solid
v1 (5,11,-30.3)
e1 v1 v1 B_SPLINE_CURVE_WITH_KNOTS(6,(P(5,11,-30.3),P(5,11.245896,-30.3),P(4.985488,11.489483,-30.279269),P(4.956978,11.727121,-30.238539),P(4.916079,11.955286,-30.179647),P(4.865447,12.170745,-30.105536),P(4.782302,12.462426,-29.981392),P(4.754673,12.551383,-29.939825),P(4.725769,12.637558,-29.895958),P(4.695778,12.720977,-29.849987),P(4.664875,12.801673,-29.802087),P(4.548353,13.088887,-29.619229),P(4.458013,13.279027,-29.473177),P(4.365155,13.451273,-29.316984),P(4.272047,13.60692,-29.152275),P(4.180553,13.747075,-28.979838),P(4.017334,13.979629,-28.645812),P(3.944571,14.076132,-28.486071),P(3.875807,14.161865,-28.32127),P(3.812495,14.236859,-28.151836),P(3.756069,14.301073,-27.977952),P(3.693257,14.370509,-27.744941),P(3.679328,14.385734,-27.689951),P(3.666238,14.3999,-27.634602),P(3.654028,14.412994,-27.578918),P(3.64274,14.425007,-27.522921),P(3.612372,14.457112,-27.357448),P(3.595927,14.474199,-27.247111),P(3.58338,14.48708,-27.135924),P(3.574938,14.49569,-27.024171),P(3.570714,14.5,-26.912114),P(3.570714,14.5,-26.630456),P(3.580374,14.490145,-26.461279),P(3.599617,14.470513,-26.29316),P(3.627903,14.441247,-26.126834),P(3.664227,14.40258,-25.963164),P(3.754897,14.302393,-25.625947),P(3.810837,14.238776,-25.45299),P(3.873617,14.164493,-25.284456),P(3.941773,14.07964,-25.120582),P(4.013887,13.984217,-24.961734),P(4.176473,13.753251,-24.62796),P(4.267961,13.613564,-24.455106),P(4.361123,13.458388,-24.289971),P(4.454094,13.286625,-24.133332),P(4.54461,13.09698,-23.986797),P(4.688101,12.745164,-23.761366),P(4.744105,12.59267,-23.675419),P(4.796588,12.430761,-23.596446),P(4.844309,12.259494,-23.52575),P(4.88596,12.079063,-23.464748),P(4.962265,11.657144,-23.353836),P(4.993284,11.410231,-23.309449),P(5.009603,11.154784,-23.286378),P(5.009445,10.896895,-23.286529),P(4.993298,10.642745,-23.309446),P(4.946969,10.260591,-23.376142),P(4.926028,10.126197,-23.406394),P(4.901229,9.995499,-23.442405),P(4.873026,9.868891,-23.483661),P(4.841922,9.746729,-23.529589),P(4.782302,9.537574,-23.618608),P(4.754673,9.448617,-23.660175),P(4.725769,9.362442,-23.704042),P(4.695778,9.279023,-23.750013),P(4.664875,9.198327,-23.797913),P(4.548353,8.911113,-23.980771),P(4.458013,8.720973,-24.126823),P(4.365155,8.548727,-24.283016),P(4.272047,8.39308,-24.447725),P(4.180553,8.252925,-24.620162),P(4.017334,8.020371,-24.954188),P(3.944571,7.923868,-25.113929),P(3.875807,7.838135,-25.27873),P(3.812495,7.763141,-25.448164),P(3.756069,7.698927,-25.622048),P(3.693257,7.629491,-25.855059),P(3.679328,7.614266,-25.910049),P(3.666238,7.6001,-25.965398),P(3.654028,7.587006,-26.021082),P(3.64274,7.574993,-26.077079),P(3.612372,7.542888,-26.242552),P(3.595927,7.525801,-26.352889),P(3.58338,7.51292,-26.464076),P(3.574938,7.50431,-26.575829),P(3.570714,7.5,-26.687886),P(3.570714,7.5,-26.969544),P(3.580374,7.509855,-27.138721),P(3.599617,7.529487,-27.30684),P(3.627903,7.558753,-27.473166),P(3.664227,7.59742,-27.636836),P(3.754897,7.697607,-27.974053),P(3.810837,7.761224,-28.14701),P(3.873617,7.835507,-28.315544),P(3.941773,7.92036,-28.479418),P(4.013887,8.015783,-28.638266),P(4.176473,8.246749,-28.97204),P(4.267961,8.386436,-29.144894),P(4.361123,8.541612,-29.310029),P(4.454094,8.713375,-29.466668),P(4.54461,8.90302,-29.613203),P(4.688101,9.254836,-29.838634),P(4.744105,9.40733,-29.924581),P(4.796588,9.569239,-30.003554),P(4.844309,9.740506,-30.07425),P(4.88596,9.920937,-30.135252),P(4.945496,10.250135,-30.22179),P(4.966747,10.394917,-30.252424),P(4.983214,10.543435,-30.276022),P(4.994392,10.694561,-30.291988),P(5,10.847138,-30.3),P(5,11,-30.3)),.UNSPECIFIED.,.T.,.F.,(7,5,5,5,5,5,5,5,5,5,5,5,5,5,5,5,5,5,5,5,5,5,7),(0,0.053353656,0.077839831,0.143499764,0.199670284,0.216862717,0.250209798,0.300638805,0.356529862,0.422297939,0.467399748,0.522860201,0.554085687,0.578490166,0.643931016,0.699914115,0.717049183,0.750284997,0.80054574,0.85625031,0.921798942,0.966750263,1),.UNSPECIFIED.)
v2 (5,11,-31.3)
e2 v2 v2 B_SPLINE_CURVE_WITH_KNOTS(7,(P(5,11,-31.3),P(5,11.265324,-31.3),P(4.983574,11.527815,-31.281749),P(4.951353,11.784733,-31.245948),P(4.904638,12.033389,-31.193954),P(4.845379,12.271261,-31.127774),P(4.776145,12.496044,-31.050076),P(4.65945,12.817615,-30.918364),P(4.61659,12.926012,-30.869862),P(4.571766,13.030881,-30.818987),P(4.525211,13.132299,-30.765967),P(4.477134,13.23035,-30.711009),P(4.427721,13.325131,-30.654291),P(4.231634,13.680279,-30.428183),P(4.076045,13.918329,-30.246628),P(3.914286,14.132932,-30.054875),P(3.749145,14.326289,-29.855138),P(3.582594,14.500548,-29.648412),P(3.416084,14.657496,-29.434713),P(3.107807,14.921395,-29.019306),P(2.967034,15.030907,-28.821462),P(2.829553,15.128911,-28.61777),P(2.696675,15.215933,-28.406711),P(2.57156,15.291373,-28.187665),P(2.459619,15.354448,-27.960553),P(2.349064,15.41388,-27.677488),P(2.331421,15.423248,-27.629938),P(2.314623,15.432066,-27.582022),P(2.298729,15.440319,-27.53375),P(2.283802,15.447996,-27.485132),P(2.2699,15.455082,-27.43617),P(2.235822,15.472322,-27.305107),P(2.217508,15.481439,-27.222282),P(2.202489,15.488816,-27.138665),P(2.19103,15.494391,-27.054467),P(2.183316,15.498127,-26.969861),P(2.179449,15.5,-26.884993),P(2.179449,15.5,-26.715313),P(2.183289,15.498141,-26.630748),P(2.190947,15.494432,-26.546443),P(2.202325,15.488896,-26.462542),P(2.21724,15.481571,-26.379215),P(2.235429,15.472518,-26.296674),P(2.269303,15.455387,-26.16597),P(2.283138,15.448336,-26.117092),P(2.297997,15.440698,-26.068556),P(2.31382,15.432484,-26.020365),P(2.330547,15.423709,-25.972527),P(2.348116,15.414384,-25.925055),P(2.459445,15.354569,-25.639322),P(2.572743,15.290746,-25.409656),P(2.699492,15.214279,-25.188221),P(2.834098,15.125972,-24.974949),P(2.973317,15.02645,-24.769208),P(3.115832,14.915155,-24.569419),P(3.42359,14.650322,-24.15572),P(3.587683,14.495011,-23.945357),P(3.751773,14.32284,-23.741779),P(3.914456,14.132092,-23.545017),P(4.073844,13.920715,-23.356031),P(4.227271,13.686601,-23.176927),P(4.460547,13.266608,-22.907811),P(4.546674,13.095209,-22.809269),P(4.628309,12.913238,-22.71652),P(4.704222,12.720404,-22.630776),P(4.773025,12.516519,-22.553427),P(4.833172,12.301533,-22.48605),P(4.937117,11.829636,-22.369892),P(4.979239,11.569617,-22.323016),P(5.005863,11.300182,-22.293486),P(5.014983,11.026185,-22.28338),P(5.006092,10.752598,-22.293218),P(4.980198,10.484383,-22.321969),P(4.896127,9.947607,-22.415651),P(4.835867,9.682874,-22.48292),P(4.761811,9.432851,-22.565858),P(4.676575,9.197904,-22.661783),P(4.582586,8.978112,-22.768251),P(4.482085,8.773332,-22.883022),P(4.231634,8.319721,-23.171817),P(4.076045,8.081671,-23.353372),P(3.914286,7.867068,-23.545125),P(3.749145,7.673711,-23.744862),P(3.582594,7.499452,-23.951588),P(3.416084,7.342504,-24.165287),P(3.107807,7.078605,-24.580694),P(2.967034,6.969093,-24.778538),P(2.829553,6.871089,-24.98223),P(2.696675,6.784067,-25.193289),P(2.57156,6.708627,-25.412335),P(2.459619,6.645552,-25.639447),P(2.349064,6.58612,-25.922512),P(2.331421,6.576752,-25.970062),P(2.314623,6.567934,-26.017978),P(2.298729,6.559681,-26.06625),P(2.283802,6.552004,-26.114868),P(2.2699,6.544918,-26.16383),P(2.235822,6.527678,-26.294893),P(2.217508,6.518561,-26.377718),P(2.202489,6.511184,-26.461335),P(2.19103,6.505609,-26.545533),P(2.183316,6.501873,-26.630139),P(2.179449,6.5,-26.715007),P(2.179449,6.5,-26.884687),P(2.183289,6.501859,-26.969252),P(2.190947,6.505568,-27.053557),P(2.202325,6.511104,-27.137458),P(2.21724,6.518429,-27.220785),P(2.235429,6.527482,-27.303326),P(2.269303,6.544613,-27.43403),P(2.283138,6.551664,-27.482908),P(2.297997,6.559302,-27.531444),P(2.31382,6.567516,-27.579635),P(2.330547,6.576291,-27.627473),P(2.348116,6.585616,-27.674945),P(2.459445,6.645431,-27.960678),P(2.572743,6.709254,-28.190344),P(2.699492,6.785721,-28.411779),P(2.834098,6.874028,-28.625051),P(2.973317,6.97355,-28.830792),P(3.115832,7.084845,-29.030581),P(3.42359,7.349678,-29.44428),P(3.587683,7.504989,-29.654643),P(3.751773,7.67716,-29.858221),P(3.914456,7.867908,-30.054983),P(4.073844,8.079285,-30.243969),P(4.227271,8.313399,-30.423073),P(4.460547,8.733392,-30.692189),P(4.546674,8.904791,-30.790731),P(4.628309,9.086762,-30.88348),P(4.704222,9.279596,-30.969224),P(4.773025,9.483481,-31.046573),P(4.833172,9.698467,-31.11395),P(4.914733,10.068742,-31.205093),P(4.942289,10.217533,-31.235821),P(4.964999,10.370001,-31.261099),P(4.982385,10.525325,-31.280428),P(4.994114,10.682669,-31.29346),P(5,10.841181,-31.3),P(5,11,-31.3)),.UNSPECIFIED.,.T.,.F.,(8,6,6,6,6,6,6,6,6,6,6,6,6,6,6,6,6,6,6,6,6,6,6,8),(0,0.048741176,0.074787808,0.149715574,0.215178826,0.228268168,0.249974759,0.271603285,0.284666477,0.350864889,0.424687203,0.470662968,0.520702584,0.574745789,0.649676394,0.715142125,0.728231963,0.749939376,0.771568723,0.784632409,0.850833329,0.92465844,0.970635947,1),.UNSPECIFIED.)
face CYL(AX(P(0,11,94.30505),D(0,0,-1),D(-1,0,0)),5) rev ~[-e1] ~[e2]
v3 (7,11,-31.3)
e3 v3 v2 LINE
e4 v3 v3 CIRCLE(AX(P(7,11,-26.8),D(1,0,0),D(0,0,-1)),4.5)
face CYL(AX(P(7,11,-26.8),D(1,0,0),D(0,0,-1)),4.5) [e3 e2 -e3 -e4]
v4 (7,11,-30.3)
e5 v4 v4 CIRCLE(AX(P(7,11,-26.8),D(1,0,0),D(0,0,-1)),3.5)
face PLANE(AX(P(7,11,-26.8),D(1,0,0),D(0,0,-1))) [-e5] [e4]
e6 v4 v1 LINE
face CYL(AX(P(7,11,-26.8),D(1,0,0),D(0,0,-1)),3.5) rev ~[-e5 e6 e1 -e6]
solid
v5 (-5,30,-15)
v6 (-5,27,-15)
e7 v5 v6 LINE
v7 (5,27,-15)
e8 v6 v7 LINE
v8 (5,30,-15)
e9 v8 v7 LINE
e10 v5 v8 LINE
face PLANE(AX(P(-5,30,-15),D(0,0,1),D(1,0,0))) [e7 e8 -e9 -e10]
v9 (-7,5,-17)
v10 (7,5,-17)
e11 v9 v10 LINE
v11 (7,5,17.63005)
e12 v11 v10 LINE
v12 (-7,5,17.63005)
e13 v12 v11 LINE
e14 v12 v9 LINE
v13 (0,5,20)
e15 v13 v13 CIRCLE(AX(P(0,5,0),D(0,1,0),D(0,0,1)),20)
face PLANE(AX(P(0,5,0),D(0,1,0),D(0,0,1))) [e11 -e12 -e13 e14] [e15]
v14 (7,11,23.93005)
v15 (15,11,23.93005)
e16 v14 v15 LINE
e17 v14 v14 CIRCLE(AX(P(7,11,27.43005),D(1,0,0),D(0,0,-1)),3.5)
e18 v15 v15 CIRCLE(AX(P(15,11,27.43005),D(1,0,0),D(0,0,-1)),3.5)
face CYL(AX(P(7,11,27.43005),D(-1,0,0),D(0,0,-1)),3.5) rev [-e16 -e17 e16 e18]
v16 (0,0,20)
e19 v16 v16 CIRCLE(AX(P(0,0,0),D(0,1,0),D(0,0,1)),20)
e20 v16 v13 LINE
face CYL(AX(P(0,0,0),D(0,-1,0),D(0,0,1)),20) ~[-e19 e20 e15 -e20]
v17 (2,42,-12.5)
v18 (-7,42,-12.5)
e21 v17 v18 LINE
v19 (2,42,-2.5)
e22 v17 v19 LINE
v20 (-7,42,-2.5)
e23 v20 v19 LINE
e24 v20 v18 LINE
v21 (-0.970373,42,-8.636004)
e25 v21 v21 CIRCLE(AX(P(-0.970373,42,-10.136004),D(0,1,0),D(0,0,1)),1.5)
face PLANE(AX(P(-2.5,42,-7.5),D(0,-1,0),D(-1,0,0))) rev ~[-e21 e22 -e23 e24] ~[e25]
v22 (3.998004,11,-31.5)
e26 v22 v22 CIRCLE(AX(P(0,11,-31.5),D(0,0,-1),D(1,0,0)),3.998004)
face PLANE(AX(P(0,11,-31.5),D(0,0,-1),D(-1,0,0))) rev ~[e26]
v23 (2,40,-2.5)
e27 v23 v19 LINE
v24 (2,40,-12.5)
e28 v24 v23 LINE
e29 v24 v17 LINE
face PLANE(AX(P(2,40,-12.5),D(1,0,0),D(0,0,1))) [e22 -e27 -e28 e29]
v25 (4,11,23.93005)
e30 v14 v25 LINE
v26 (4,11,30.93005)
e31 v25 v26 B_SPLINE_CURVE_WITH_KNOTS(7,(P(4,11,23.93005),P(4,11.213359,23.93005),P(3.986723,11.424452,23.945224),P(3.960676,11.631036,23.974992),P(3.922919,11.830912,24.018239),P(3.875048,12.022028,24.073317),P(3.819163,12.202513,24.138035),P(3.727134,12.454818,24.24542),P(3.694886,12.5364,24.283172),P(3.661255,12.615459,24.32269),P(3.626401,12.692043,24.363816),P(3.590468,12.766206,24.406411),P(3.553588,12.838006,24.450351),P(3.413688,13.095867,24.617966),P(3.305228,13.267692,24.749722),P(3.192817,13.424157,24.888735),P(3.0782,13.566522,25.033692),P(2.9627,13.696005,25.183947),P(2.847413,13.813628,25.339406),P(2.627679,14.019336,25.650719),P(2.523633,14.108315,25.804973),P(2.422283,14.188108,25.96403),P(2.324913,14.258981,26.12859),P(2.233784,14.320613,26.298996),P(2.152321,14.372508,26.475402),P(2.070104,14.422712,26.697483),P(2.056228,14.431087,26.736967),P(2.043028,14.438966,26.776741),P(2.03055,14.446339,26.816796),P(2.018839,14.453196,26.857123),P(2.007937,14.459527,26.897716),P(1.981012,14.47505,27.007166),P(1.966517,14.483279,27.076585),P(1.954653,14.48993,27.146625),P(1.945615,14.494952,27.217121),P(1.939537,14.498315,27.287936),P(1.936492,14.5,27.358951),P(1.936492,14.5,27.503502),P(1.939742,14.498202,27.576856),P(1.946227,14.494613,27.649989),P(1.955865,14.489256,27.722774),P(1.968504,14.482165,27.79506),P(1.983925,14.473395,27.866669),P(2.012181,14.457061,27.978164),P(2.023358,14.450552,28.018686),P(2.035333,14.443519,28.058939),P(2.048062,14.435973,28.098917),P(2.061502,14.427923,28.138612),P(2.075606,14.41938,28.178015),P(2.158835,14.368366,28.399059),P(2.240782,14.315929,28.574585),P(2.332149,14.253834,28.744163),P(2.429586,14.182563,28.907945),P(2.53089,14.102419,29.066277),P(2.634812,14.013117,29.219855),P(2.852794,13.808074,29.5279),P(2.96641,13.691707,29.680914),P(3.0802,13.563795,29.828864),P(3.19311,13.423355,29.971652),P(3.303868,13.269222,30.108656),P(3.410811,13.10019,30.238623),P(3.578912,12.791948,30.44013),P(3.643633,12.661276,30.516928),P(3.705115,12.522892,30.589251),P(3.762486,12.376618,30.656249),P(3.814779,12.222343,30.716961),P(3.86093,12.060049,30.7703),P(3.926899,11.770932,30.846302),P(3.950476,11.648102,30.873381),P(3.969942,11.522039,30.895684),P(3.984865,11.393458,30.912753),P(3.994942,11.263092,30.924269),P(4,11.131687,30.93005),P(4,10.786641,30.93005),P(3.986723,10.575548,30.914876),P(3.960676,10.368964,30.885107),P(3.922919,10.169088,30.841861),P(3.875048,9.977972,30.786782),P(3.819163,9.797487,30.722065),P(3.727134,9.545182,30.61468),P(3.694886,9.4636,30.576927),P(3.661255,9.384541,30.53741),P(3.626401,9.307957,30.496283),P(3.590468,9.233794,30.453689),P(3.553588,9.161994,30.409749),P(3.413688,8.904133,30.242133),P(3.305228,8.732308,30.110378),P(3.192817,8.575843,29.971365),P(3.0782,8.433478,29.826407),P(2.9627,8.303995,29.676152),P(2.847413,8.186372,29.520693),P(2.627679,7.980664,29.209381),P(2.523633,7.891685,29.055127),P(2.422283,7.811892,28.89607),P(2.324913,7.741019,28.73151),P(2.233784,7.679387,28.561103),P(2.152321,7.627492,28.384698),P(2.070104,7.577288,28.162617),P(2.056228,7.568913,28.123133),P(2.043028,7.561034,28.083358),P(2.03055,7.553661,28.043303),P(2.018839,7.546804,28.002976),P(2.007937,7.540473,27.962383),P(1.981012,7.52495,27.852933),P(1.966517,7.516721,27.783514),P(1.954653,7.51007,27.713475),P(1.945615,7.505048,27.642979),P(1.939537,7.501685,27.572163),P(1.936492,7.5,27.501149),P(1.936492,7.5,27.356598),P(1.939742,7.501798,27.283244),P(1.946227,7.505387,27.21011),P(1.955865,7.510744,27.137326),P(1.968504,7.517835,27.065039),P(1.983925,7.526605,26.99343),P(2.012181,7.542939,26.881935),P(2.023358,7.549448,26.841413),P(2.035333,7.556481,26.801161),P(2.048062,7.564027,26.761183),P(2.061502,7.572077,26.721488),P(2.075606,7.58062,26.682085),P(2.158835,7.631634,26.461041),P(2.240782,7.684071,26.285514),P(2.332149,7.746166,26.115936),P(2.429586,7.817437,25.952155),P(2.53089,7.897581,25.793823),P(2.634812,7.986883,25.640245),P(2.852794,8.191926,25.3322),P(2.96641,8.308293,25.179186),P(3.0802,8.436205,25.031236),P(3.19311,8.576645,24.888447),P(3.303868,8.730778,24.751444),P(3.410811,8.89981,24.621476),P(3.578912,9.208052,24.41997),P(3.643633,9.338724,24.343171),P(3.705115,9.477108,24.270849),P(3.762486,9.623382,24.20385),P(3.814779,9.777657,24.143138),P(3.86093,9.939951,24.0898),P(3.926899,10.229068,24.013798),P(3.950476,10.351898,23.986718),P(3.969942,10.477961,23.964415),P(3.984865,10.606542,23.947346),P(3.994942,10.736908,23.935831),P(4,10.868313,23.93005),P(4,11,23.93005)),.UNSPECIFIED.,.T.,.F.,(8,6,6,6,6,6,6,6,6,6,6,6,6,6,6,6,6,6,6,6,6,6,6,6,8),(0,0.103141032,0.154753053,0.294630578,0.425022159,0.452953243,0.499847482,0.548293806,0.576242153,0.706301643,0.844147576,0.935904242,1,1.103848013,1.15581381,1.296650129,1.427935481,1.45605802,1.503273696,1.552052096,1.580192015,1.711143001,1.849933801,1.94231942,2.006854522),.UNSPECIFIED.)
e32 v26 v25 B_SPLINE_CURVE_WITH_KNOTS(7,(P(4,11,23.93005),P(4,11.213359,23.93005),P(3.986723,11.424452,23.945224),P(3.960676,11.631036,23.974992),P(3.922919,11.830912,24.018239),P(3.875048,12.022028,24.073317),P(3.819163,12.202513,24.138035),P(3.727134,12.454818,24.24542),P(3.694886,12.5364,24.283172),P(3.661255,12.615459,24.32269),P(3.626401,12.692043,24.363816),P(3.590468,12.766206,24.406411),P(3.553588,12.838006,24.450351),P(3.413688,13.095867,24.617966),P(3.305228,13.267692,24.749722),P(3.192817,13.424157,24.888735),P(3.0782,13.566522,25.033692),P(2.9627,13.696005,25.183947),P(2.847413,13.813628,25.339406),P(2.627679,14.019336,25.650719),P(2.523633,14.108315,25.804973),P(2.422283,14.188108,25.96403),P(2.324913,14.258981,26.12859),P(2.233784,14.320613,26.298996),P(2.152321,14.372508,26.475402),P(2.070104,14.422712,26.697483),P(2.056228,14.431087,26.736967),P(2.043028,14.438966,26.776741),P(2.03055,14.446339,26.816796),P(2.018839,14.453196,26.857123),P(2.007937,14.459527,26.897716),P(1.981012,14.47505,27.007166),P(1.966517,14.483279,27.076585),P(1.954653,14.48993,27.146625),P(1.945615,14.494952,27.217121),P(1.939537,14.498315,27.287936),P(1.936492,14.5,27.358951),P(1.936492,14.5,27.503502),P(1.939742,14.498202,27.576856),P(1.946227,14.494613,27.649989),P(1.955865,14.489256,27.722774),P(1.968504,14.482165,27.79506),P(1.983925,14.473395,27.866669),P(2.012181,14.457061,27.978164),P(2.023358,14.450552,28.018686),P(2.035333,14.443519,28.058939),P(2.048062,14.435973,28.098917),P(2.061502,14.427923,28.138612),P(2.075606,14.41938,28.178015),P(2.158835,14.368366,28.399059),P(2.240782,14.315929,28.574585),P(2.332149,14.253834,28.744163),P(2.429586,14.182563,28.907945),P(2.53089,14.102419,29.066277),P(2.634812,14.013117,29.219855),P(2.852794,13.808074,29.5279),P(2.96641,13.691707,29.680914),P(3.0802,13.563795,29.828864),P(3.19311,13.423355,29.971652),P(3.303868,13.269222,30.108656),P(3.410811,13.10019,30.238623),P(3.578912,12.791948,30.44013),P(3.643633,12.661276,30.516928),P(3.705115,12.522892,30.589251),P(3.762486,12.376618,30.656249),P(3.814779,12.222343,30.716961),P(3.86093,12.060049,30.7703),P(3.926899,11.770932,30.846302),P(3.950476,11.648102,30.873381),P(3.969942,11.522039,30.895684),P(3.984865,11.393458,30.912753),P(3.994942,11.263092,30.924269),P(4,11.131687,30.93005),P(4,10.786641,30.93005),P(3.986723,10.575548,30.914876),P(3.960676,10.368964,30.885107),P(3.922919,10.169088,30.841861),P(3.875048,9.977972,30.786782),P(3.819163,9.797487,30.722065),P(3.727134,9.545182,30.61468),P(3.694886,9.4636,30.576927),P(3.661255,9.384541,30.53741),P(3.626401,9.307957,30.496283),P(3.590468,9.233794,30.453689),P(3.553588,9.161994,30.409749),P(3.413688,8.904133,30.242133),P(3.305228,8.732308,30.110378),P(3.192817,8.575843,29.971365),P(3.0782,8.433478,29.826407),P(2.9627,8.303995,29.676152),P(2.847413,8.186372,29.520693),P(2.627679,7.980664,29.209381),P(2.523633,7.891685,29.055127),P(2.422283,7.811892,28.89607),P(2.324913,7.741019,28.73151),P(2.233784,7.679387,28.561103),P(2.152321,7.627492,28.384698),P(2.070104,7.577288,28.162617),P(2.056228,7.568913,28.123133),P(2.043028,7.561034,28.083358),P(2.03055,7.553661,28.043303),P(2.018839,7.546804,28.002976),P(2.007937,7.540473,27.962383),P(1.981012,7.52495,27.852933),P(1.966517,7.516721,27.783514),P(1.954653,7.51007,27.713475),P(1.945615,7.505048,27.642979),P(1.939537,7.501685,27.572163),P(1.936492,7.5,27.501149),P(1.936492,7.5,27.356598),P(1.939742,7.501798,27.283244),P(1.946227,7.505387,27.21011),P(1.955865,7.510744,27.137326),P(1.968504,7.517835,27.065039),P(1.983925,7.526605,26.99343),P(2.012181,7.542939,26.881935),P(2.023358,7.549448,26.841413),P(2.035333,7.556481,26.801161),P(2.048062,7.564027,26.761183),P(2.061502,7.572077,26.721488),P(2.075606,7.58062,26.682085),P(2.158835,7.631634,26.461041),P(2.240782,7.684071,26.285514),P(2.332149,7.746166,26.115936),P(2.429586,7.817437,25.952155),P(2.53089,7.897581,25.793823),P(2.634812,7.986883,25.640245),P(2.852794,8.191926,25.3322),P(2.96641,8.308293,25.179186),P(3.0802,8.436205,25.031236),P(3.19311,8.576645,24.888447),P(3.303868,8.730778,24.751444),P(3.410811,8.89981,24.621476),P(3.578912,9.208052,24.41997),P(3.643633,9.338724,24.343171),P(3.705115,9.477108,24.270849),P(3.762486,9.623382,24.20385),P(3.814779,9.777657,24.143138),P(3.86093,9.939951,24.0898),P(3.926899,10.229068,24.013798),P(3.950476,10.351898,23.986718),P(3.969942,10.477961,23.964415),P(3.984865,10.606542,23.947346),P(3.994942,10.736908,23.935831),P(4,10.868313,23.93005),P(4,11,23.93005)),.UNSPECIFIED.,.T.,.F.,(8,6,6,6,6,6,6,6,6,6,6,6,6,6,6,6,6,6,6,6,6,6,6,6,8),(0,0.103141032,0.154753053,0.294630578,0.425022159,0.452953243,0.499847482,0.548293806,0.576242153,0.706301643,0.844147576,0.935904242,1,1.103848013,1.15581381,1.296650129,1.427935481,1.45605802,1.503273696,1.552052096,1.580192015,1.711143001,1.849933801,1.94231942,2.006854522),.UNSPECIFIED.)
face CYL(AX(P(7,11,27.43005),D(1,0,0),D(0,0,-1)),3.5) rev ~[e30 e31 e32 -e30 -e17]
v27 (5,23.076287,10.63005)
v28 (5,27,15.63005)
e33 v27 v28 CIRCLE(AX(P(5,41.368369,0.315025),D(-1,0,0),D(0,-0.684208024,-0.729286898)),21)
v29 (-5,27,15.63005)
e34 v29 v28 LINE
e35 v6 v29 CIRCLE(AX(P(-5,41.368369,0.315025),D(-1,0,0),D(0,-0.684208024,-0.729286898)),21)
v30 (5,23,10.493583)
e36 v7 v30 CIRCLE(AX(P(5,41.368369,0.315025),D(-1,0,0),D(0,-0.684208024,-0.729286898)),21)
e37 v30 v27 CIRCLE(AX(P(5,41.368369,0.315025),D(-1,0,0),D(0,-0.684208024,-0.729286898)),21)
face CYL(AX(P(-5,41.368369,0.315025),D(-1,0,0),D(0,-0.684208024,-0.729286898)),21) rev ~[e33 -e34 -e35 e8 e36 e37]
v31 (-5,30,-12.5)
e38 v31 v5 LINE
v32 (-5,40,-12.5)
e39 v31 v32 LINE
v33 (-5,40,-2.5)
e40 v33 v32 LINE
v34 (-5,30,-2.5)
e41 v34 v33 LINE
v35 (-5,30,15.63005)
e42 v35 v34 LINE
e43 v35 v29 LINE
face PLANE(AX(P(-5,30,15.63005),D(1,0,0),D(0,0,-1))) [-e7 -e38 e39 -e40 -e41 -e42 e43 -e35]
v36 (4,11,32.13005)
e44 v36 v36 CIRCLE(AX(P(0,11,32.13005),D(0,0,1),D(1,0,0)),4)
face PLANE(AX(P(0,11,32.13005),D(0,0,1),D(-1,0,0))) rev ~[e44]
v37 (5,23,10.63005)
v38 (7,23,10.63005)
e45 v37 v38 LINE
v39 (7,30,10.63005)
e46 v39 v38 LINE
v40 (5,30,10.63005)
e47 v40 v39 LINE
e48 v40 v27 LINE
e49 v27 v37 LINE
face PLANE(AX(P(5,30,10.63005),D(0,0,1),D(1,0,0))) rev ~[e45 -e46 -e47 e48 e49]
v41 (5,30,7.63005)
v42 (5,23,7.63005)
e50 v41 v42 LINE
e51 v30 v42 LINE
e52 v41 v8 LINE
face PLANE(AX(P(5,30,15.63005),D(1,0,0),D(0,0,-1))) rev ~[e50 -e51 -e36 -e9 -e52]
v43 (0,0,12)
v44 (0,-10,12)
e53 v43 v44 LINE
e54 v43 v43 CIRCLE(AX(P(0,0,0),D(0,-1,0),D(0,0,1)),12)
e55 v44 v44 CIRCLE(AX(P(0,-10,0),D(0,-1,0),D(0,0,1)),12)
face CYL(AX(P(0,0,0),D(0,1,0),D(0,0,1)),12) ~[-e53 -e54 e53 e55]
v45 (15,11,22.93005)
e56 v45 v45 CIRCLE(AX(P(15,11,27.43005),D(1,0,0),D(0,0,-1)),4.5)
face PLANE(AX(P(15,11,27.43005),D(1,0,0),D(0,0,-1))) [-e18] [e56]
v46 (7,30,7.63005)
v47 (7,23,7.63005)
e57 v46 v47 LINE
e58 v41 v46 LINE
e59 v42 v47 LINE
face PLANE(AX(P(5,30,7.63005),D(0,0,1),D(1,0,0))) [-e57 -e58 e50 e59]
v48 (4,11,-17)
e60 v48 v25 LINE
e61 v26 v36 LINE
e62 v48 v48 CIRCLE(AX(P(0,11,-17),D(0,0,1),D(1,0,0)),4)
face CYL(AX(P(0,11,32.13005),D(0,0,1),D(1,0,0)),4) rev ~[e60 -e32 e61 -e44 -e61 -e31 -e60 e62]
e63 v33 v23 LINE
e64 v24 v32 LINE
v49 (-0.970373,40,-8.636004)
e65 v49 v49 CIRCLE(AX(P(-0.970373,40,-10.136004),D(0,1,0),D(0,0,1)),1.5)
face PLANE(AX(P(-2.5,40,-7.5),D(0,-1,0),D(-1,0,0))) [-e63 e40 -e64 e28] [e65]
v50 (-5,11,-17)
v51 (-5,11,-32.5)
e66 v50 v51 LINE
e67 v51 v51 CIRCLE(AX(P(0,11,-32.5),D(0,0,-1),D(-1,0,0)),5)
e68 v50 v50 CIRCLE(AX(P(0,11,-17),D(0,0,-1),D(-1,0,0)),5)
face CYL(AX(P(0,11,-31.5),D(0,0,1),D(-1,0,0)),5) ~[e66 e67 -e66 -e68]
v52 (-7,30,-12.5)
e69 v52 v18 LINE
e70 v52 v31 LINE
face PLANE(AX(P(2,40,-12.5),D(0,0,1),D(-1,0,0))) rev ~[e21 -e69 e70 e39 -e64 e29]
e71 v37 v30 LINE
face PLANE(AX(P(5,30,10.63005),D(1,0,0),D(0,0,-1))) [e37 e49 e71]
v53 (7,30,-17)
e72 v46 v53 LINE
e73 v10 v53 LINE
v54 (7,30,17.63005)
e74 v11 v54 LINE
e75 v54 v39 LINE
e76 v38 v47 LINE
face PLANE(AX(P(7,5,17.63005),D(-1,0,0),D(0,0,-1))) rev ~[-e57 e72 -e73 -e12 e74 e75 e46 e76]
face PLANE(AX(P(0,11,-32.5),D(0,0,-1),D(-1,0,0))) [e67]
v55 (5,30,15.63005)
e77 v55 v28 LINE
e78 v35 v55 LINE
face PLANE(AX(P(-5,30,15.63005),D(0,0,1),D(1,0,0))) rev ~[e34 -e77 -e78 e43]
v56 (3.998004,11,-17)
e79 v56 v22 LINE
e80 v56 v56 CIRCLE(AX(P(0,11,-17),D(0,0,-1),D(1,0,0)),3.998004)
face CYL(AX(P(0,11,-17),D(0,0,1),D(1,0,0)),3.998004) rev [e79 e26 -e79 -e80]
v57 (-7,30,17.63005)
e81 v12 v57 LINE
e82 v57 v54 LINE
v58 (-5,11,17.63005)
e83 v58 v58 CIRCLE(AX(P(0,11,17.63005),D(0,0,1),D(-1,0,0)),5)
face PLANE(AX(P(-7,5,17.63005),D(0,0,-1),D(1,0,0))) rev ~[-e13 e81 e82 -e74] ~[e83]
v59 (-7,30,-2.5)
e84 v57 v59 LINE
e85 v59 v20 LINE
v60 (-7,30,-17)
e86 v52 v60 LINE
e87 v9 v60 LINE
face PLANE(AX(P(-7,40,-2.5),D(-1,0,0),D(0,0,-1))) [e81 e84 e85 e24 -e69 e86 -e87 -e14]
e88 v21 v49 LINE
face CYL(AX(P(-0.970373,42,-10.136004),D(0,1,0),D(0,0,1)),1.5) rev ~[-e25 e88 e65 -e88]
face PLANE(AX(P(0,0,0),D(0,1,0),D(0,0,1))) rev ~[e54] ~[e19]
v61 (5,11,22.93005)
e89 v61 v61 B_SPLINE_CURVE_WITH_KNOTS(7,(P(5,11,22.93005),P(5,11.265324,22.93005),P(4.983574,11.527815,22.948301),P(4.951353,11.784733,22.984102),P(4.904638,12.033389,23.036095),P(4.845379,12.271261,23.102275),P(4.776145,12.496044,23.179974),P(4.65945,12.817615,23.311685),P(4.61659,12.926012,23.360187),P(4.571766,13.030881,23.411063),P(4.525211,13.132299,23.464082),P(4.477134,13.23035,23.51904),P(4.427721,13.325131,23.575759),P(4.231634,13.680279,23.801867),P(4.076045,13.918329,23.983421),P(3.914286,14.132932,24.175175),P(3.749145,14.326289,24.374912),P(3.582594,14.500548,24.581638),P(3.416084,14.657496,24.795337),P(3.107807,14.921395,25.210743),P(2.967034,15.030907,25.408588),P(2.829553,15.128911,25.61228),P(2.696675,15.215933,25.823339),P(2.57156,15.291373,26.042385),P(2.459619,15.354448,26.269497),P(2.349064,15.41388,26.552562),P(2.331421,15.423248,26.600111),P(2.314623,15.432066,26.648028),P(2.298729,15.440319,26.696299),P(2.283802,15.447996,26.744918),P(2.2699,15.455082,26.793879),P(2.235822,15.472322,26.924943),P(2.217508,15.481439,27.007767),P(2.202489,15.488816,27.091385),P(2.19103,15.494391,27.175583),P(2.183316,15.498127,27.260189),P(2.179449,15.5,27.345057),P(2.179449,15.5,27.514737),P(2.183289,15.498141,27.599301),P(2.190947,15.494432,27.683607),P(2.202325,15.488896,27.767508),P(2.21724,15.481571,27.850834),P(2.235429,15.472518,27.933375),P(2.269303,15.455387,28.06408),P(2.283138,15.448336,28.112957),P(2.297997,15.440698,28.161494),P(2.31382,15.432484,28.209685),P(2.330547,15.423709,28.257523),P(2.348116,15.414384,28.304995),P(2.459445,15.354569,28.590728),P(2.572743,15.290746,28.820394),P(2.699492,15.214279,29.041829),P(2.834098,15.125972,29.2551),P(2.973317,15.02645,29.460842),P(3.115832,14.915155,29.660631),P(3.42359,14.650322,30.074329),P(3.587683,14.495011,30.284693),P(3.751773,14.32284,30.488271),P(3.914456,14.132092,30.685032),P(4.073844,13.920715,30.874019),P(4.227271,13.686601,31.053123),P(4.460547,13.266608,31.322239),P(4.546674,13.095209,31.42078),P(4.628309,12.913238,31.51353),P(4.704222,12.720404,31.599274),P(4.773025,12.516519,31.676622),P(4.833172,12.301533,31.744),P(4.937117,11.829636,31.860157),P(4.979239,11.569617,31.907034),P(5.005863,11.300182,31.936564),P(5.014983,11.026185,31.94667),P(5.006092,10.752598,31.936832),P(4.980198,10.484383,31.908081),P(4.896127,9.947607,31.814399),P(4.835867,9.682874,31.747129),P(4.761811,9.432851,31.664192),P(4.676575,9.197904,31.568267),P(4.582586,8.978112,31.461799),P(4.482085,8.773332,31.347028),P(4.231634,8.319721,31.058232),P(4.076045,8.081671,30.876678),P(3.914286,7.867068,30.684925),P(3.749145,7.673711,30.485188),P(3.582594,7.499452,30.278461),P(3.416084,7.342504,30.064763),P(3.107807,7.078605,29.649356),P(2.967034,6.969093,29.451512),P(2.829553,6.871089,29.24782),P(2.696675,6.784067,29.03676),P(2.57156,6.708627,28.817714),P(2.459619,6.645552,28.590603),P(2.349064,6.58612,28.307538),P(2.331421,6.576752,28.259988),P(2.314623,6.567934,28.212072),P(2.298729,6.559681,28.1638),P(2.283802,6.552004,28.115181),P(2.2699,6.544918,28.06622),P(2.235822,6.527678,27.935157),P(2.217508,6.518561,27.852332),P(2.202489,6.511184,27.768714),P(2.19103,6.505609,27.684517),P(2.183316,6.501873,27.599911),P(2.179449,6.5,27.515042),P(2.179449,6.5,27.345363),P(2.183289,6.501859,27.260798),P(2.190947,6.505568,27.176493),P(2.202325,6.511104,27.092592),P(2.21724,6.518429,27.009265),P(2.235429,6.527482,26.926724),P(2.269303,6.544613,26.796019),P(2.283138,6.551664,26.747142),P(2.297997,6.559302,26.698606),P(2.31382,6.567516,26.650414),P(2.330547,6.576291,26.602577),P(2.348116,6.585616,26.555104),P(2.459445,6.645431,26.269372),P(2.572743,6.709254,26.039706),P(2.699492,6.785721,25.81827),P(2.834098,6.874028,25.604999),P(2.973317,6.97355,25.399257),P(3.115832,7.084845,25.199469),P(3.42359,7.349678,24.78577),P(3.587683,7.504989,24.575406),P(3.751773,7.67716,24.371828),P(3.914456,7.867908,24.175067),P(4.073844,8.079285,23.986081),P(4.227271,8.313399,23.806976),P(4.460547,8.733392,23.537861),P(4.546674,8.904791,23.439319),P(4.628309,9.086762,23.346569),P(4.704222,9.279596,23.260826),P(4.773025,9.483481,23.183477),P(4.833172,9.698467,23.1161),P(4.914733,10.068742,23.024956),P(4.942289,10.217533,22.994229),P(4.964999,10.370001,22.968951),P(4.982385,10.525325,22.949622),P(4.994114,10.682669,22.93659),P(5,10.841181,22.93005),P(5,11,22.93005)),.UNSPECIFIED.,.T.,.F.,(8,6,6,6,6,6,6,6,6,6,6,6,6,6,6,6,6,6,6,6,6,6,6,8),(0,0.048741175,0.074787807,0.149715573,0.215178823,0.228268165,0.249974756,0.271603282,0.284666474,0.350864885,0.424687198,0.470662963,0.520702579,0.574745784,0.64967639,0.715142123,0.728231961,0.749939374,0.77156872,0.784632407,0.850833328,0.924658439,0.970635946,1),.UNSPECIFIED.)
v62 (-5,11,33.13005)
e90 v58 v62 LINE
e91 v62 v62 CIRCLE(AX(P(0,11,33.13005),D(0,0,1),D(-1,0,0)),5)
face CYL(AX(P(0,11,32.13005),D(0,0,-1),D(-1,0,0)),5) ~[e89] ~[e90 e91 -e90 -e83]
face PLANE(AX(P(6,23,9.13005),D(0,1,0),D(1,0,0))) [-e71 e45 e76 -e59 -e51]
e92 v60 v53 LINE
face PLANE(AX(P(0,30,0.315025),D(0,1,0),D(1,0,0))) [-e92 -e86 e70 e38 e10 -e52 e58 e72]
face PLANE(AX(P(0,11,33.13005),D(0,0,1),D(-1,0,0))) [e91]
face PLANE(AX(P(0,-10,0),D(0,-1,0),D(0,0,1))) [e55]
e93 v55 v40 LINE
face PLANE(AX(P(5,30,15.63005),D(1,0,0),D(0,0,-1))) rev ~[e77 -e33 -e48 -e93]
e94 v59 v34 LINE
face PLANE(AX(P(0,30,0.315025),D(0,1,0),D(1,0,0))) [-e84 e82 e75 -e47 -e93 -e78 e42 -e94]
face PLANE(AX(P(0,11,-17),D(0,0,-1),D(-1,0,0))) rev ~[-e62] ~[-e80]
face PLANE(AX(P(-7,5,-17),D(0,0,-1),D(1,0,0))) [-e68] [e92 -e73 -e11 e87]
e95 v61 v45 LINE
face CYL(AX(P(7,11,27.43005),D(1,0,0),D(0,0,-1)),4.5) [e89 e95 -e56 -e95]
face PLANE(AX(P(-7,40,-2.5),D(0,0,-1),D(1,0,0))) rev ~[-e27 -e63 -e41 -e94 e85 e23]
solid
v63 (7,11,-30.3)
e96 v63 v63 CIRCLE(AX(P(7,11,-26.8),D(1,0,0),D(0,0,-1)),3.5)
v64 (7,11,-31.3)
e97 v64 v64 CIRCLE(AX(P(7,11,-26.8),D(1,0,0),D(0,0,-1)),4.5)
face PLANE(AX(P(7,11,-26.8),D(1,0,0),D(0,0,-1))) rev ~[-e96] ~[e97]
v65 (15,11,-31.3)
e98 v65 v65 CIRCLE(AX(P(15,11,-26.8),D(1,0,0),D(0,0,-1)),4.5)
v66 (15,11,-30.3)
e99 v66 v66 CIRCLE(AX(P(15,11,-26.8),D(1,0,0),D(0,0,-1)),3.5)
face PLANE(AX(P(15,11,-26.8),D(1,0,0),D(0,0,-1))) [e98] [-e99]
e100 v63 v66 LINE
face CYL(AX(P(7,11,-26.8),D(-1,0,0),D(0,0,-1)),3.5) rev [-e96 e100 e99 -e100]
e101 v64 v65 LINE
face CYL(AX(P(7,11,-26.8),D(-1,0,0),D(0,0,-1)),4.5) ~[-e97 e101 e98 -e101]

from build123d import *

# Parameters (mm, degrees)
SKETCH_1_R               = 20
EXTRUDE_1_DEPTH          = 5
SKETCH_2_W               = 14
SKETCH_2_H               = 34.630049735
EXTRUDE_2_DEPTH          = 25
SKETCH_3_W               = 10
SKETCH_3_H               = 30.630049735
CUT_EXTRUDE_1_DEPTH      = 3
CUT_EXTRUDE_2_DEPTH      = 10
SKETCH_5_W               = 2
SKETCH_5_H               = 3
CUT_EXTRUDE_3_DEPTH      = 7
SKETCH_6_W               = 2
SKETCH_6_H               = 10
EXTRUDE_3_DEPTH          = 10
EXTRUDE_4_DEPTH          = 2
SKETCH_8_R               = 1.5
CUT_EXTRUDE_4_DEPTH      = 2
SKETCH_9_R               = 4
CUT_EXTRUDE_5_DEPTH      = 35
EXTRUDE_START            = 14.5
SKETCH_10_R              = 5
SKETCH_10_R_2            = 4
EXTRUDE_5_DEPTH          = 14.5
EXTRUDE_6_REACH          = 61.375
EXTRUDE_6_END_RADIUS     = 5
SKETCH_11_R              = 4.5
CUT_EXTRUDE_6_REACH      = 61.375
CUT_EXTRUDE_6_END_RADIUS = 4
SKETCH_12_R              = 3.5
SKETCH_13_R              = 5
EXTRUDE_7_DEPTH          = 1
SKETCH_14_R              = 4.5
SKETCH_14_R_2            = 3.5
EXTRUDE_8_DEPTH          = 8
SKETCH_15_R              = 5
SKETCH_15_R_2            = 3.998003616
EXTRUDE_9_DEPTH          = 14.5
SKETCH_16_R              = 5
EXTRUDE_11_DEPTH         = 1
CUT_EXTRUDE_7_REACH      = 61.922
CUT_EXTRUDE_7_END_RADIUS = 5
SKETCH_17_R              = 3.5
SKETCH_19_R              = 12
EXTRUDE_12_DEPTH         = 10


with BuildPart() as part:
    # Эскиз1 → Бобышка-Вытянуть1 (new body)
    with BuildSketch(Plane(origin=(0, 0, 0), x_dir=(1, 0, 0), z_dir=(0, 1, 0))):
        with Locations(Location((0, 0, 0), (0, 0, 270))):
            Circle(SKETCH_1_R)
    extrude(amount=EXTRUDE_1_DEPTH)

    # Эскиз2 → Бобышка-Вытянуть2 (add)
    with BuildSketch(Plane(origin=(0, 5, 0), x_dir=(1, 0, 0), z_dir=(0, 1, 0))):
        with Locations((0, -0.315024868)):
            Rectangle(SKETCH_2_W, SKETCH_2_H)
    extrude(amount=EXTRUDE_2_DEPTH)

    # Эскиз3 → Вырез-Вытянуть1 (cut)
    with BuildSketch(Plane(origin=(0, 30, 0), x_dir=(1, 0, 0), z_dir=(0, 1, 0))):
        with Locations((0, -0.315024868)):
            Rectangle(SKETCH_3_W, SKETCH_3_H)
    extrude(amount=-CUT_EXTRUDE_1_DEPTH, mode=Mode.SUBTRACT)

    # Эскиз4 → Вырез-Вытянуть2 (cut)
    with BuildSketch(Plane(origin=(-5, 0, 0), x_dir=(0, 0, -1), z_dir=(1, 0, 0))):
        with BuildLine():
            Line((-15.630049735, 27), (15, 27))
            ThreePointArc((15, 27), (-0.315024867, 20.368368499), (-15.630049735, 27))
        make_face()
    extrude(amount=CUT_EXTRUDE_2_DEPTH, mode=Mode.SUBTRACT)

    # Эскиз5 → Вырез-Вытянуть3 (cut)
    with BuildSketch(Plane(origin=(0, 30, 0), x_dir=(1, 0, 0), z_dir=(0, 1, 0))):
        with Locations((6, -9.130049735)):
            Rectangle(SKETCH_5_W, SKETCH_5_H)
    extrude(amount=-CUT_EXTRUDE_3_DEPTH, mode=Mode.SUBTRACT)

    # Эскиз6 → Бобышка-Вытянуть3 (add)
    with BuildSketch(Plane(origin=(0, 30, 0), x_dir=(1, 0, 0), z_dir=(0, 1, 0))):
        with Locations((-6, 7.5)):
            Rectangle(SKETCH_6_W, SKETCH_6_H)
    extrude(amount=EXTRUDE_3_DEPTH)

    # Эскиз7 → Бобышка-Вытянуть4 (add)
    with BuildSketch(Plane(origin=(0, 40, 0), x_dir=(1, 0, 0), z_dir=(0, 1, 0))):
        Polygon((-7, 12.5), (-5, 12.5), (2, 12.5), (2, 2.5), (-5, 2.5), (-7, 2.5), align=None)
    extrude(amount=EXTRUDE_4_DEPTH)

    # Эскиз8 → Вырез-Вытянуть4 (cut)
    with BuildSketch(Plane(origin=(0, 42, 0), x_dir=(1, 0, 0), z_dir=(0, 1, 0))):
        with Locations(Location((-0.97037305, 10.13600386, 0), (0, 0, 270))):
            Circle(SKETCH_8_R)
    extrude(amount=-CUT_EXTRUDE_4_DEPTH, mode=Mode.SUBTRACT)

    # Эскиз9 → Вырез-Вытянуть5 (cut)
    with BuildSketch(Plane.XY.offset(17.630049735)):
        with Locations((0, 11)):
            Circle(SKETCH_9_R)
    extrude(amount=-CUT_EXTRUDE_5_DEPTH, mode=Mode.SUBTRACT)

    # Эскиз10 → Бобышка-Вытянуть5 (add)
    with BuildSketch(Plane.XY.offset(17.630049735).offset(EXTRUDE_START)):
        with Locations(Location((0, 11, 0), (0, 0, 180))):
            Circle(SKETCH_10_R)
        with Locations((0, 11)):
            Circle(SKETCH_10_R_2, mode=Mode.SUBTRACT)
    extrude(amount=-EXTRUDE_5_DEPTH)

    # Бобышка-Вытянуть6: up to this cylinder (the profile starts outside it)
    extrude_6_end = Plane(origin=(0, 11, 0.315025), z_dir=(0, 0, -1)) * Cylinder(EXTRUDE_6_END_RADIUS, 187.98005, mode=Mode.PRIVATE)
    # Эскиз11 → Бобышка-Вытянуть6 (add, up to the surface)
    with BuildSketch(Plane(origin=(7, 0, 0), x_dir=(0, 0, -1), z_dir=(1, 0, 0)), mode=Mode.PRIVATE) as extrude_6_sk1:
        with Locations((-27.430049735, 11)):
            Circle(SKETCH_11_R)
    extrude_6_tool1 = extrude(extrude_6_sk1.sketch, amount=-EXTRUDE_6_REACH, mode=Mode.PRIVATE) - extrude_6_end
    add(extrude_6_tool1.solids().sort_by_distance((7, 11, 27.43005))[0])
    # Эскиз11 → Бобышка-Вытянуть6 (add, up to the surface)
    with BuildSketch(Plane(origin=(7, 0, 0), x_dir=(0, 0, -1), z_dir=(1, 0, 0)), mode=Mode.PRIVATE) as extrude_6_sk2:
        with Locations((26.8, 11)):
            Circle(SKETCH_11_R)
    extrude_6_tool2 = extrude(extrude_6_sk2.sketch, amount=-EXTRUDE_6_REACH, mode=Mode.PRIVATE) - extrude_6_end
    add(extrude_6_tool2.solids().sort_by_distance((7, 11, -26.8))[0])


with BuildPart() as extrude_6_piece_1:
    # of the separate pieces the step leaves, piece 1, a body of its own (extrude_6_pieces)
    add(part.part.solids().sort_by_distance((0, 0, 20))[0])

    # Вырез-Вытянуть6: up to this cylinder (the profile starts outside it)
    cut_extrude_6_end = Plane(origin=(0, 11, 27.43005), z_dir=(0, 0, 1)) * Cylinder(CUT_EXTRUDE_6_END_RADIUS, 131.75, mode=Mode.PRIVATE)
    # Эскиз12 → Вырез-Вытянуть6 (cut, up to the surface)
    with BuildSketch(Plane(origin=(7, 0, 0), x_dir=(0, 0, -1), z_dir=(1, 0, 0)), mode=Mode.PRIVATE) as cut_extrude_6_sk1:
        with Locations((-27.430049735, 11)):
            Circle(SKETCH_12_R)
    cut_extrude_6_tool1 = extrude(cut_extrude_6_sk1.sketch, amount=-CUT_EXTRUDE_6_REACH, mode=Mode.PRIVATE) - cut_extrude_6_end
    add(cut_extrude_6_tool1.solids().sort_by_distance((7, 11, 27.43005))[0], mode=Mode.SUBTRACT)

    # Эскиз13 → Бобышка-Вытянуть7 (add)
    with BuildSketch(Plane.XY.offset(32.130049735)):
        with Locations(Location((0, 11, 0), (0, 0, 180))):
            Circle(SKETCH_13_R)
    extrude(amount=EXTRUDE_7_DEPTH)

    # Эскиз14 → Бобышка-Вытянуть8 (add)
    # profile 1 of 2: a face of its own
    with BuildSketch(Plane(origin=(7, 0, 0), x_dir=(0, 0, -1), z_dir=(1, 0, 0))):
        with Locations((-27.430049735, 11)):
            Circle(SKETCH_14_R)
        with Locations((-27.430049735, 11)):
            Circle(SKETCH_14_R_2, mode=Mode.SUBTRACT)
    # profile 2 of 2: a face of its own
    with BuildSketch(Plane(origin=(7, 0, 0), x_dir=(0, 0, -1), z_dir=(1, 0, 0))):
        with Locations((26.8, 11)):
            Circle(SKETCH_14_R)
        with Locations((26.8, 11)):
            Circle(SKETCH_14_R_2, mode=Mode.SUBTRACT)
    extrude(amount=EXTRUDE_8_DEPTH)


with BuildPart() as extrude_6_piece_2:
    # of the separate pieces the step leaves, piece 2, a body of its own (extrude_6_pieces)
    add(part.part.solids().sort_by_distance((5, 11, -31.3))[0])

    # Вырез-Вытянуть7: up to this cylinder (the profile starts outside it)
    cut_extrude_7_end = Plane(origin=(0, 11, -26.8), z_dir=(0, 0, -1)) * Cylinder(CUT_EXTRUDE_7_END_RADIUS, 134.844, mode=Mode.PRIVATE)
    # Эскиз17 → Вырез-Вытянуть7 (cut, up to the surface)
    with BuildSketch(Plane(origin=(7, 0, 0), x_dir=(0, 0, -1), z_dir=(1, 0, 0)), mode=Mode.PRIVATE) as cut_extrude_7_sk1:
        with Locations((26.8, 11)):
            Circle(SKETCH_17_R)
    cut_extrude_7_tool1 = extrude(cut_extrude_7_sk1.sketch, amount=-CUT_EXTRUDE_7_REACH, mode=Mode.PRIVATE) - cut_extrude_7_end
    add(cut_extrude_7_tool1.solids().sort_by_distance((7, 11, -26.8))[0], mode=Mode.SUBTRACT)


with BuildPart() as extrude_8_piece_1:
    # of the separate pieces the step leaves, piece 1, a body of its own (extrude_8_pieces)
    add(extrude_6_piece_1.part.solids().sort_by_distance((0, 0, 20))[0])

    # Эскиз15 → Бобышка-Вытянуть9 (add)
    with BuildSketch(Plane(origin=(0, 0, -17), x_dir=(-1, 0, 0), z_dir=(0, 0, -1))):
        with Locations((0, 11)):
            Circle(SKETCH_15_R)
        with Locations(Location((0, 11, 0), (0, 0, 180))):
            Circle(SKETCH_15_R_2, mode=Mode.SUBTRACT)
    extrude(amount=EXTRUDE_9_DEPTH)

    # Эскиз16 → Бобышка-Вытянуть11 (add)
    with BuildSketch(Plane(origin=(0, 0, -31.5), x_dir=(-1, 0, 0), z_dir=(0, 0, -1))):
        with Locations((0, 11)):
            Circle(SKETCH_16_R)
    extrude(amount=EXTRUDE_11_DEPTH)

    # Эскиз19 → Бобышка-Вытянуть12 (add)
    with BuildSketch(Plane.XZ):
        with Locations(Location((0, 0, 0), (0, 0, 90))):
            Circle(SKETCH_19_R)
    extrude(amount=EXTRUDE_12_DEPTH)


with BuildPart() as extrude_8_piece_2:
    # of the separate pieces the step leaves, piece 2, a body of its own (extrude_8_pieces)
    add(extrude_6_piece_1.part.solids().sort_by_distance((7, 11, -31.3))[0])


solid = Compound([extrude_6_piece_2.part, extrude_8_piece_1.part, extrude_8_piece_2.part])
